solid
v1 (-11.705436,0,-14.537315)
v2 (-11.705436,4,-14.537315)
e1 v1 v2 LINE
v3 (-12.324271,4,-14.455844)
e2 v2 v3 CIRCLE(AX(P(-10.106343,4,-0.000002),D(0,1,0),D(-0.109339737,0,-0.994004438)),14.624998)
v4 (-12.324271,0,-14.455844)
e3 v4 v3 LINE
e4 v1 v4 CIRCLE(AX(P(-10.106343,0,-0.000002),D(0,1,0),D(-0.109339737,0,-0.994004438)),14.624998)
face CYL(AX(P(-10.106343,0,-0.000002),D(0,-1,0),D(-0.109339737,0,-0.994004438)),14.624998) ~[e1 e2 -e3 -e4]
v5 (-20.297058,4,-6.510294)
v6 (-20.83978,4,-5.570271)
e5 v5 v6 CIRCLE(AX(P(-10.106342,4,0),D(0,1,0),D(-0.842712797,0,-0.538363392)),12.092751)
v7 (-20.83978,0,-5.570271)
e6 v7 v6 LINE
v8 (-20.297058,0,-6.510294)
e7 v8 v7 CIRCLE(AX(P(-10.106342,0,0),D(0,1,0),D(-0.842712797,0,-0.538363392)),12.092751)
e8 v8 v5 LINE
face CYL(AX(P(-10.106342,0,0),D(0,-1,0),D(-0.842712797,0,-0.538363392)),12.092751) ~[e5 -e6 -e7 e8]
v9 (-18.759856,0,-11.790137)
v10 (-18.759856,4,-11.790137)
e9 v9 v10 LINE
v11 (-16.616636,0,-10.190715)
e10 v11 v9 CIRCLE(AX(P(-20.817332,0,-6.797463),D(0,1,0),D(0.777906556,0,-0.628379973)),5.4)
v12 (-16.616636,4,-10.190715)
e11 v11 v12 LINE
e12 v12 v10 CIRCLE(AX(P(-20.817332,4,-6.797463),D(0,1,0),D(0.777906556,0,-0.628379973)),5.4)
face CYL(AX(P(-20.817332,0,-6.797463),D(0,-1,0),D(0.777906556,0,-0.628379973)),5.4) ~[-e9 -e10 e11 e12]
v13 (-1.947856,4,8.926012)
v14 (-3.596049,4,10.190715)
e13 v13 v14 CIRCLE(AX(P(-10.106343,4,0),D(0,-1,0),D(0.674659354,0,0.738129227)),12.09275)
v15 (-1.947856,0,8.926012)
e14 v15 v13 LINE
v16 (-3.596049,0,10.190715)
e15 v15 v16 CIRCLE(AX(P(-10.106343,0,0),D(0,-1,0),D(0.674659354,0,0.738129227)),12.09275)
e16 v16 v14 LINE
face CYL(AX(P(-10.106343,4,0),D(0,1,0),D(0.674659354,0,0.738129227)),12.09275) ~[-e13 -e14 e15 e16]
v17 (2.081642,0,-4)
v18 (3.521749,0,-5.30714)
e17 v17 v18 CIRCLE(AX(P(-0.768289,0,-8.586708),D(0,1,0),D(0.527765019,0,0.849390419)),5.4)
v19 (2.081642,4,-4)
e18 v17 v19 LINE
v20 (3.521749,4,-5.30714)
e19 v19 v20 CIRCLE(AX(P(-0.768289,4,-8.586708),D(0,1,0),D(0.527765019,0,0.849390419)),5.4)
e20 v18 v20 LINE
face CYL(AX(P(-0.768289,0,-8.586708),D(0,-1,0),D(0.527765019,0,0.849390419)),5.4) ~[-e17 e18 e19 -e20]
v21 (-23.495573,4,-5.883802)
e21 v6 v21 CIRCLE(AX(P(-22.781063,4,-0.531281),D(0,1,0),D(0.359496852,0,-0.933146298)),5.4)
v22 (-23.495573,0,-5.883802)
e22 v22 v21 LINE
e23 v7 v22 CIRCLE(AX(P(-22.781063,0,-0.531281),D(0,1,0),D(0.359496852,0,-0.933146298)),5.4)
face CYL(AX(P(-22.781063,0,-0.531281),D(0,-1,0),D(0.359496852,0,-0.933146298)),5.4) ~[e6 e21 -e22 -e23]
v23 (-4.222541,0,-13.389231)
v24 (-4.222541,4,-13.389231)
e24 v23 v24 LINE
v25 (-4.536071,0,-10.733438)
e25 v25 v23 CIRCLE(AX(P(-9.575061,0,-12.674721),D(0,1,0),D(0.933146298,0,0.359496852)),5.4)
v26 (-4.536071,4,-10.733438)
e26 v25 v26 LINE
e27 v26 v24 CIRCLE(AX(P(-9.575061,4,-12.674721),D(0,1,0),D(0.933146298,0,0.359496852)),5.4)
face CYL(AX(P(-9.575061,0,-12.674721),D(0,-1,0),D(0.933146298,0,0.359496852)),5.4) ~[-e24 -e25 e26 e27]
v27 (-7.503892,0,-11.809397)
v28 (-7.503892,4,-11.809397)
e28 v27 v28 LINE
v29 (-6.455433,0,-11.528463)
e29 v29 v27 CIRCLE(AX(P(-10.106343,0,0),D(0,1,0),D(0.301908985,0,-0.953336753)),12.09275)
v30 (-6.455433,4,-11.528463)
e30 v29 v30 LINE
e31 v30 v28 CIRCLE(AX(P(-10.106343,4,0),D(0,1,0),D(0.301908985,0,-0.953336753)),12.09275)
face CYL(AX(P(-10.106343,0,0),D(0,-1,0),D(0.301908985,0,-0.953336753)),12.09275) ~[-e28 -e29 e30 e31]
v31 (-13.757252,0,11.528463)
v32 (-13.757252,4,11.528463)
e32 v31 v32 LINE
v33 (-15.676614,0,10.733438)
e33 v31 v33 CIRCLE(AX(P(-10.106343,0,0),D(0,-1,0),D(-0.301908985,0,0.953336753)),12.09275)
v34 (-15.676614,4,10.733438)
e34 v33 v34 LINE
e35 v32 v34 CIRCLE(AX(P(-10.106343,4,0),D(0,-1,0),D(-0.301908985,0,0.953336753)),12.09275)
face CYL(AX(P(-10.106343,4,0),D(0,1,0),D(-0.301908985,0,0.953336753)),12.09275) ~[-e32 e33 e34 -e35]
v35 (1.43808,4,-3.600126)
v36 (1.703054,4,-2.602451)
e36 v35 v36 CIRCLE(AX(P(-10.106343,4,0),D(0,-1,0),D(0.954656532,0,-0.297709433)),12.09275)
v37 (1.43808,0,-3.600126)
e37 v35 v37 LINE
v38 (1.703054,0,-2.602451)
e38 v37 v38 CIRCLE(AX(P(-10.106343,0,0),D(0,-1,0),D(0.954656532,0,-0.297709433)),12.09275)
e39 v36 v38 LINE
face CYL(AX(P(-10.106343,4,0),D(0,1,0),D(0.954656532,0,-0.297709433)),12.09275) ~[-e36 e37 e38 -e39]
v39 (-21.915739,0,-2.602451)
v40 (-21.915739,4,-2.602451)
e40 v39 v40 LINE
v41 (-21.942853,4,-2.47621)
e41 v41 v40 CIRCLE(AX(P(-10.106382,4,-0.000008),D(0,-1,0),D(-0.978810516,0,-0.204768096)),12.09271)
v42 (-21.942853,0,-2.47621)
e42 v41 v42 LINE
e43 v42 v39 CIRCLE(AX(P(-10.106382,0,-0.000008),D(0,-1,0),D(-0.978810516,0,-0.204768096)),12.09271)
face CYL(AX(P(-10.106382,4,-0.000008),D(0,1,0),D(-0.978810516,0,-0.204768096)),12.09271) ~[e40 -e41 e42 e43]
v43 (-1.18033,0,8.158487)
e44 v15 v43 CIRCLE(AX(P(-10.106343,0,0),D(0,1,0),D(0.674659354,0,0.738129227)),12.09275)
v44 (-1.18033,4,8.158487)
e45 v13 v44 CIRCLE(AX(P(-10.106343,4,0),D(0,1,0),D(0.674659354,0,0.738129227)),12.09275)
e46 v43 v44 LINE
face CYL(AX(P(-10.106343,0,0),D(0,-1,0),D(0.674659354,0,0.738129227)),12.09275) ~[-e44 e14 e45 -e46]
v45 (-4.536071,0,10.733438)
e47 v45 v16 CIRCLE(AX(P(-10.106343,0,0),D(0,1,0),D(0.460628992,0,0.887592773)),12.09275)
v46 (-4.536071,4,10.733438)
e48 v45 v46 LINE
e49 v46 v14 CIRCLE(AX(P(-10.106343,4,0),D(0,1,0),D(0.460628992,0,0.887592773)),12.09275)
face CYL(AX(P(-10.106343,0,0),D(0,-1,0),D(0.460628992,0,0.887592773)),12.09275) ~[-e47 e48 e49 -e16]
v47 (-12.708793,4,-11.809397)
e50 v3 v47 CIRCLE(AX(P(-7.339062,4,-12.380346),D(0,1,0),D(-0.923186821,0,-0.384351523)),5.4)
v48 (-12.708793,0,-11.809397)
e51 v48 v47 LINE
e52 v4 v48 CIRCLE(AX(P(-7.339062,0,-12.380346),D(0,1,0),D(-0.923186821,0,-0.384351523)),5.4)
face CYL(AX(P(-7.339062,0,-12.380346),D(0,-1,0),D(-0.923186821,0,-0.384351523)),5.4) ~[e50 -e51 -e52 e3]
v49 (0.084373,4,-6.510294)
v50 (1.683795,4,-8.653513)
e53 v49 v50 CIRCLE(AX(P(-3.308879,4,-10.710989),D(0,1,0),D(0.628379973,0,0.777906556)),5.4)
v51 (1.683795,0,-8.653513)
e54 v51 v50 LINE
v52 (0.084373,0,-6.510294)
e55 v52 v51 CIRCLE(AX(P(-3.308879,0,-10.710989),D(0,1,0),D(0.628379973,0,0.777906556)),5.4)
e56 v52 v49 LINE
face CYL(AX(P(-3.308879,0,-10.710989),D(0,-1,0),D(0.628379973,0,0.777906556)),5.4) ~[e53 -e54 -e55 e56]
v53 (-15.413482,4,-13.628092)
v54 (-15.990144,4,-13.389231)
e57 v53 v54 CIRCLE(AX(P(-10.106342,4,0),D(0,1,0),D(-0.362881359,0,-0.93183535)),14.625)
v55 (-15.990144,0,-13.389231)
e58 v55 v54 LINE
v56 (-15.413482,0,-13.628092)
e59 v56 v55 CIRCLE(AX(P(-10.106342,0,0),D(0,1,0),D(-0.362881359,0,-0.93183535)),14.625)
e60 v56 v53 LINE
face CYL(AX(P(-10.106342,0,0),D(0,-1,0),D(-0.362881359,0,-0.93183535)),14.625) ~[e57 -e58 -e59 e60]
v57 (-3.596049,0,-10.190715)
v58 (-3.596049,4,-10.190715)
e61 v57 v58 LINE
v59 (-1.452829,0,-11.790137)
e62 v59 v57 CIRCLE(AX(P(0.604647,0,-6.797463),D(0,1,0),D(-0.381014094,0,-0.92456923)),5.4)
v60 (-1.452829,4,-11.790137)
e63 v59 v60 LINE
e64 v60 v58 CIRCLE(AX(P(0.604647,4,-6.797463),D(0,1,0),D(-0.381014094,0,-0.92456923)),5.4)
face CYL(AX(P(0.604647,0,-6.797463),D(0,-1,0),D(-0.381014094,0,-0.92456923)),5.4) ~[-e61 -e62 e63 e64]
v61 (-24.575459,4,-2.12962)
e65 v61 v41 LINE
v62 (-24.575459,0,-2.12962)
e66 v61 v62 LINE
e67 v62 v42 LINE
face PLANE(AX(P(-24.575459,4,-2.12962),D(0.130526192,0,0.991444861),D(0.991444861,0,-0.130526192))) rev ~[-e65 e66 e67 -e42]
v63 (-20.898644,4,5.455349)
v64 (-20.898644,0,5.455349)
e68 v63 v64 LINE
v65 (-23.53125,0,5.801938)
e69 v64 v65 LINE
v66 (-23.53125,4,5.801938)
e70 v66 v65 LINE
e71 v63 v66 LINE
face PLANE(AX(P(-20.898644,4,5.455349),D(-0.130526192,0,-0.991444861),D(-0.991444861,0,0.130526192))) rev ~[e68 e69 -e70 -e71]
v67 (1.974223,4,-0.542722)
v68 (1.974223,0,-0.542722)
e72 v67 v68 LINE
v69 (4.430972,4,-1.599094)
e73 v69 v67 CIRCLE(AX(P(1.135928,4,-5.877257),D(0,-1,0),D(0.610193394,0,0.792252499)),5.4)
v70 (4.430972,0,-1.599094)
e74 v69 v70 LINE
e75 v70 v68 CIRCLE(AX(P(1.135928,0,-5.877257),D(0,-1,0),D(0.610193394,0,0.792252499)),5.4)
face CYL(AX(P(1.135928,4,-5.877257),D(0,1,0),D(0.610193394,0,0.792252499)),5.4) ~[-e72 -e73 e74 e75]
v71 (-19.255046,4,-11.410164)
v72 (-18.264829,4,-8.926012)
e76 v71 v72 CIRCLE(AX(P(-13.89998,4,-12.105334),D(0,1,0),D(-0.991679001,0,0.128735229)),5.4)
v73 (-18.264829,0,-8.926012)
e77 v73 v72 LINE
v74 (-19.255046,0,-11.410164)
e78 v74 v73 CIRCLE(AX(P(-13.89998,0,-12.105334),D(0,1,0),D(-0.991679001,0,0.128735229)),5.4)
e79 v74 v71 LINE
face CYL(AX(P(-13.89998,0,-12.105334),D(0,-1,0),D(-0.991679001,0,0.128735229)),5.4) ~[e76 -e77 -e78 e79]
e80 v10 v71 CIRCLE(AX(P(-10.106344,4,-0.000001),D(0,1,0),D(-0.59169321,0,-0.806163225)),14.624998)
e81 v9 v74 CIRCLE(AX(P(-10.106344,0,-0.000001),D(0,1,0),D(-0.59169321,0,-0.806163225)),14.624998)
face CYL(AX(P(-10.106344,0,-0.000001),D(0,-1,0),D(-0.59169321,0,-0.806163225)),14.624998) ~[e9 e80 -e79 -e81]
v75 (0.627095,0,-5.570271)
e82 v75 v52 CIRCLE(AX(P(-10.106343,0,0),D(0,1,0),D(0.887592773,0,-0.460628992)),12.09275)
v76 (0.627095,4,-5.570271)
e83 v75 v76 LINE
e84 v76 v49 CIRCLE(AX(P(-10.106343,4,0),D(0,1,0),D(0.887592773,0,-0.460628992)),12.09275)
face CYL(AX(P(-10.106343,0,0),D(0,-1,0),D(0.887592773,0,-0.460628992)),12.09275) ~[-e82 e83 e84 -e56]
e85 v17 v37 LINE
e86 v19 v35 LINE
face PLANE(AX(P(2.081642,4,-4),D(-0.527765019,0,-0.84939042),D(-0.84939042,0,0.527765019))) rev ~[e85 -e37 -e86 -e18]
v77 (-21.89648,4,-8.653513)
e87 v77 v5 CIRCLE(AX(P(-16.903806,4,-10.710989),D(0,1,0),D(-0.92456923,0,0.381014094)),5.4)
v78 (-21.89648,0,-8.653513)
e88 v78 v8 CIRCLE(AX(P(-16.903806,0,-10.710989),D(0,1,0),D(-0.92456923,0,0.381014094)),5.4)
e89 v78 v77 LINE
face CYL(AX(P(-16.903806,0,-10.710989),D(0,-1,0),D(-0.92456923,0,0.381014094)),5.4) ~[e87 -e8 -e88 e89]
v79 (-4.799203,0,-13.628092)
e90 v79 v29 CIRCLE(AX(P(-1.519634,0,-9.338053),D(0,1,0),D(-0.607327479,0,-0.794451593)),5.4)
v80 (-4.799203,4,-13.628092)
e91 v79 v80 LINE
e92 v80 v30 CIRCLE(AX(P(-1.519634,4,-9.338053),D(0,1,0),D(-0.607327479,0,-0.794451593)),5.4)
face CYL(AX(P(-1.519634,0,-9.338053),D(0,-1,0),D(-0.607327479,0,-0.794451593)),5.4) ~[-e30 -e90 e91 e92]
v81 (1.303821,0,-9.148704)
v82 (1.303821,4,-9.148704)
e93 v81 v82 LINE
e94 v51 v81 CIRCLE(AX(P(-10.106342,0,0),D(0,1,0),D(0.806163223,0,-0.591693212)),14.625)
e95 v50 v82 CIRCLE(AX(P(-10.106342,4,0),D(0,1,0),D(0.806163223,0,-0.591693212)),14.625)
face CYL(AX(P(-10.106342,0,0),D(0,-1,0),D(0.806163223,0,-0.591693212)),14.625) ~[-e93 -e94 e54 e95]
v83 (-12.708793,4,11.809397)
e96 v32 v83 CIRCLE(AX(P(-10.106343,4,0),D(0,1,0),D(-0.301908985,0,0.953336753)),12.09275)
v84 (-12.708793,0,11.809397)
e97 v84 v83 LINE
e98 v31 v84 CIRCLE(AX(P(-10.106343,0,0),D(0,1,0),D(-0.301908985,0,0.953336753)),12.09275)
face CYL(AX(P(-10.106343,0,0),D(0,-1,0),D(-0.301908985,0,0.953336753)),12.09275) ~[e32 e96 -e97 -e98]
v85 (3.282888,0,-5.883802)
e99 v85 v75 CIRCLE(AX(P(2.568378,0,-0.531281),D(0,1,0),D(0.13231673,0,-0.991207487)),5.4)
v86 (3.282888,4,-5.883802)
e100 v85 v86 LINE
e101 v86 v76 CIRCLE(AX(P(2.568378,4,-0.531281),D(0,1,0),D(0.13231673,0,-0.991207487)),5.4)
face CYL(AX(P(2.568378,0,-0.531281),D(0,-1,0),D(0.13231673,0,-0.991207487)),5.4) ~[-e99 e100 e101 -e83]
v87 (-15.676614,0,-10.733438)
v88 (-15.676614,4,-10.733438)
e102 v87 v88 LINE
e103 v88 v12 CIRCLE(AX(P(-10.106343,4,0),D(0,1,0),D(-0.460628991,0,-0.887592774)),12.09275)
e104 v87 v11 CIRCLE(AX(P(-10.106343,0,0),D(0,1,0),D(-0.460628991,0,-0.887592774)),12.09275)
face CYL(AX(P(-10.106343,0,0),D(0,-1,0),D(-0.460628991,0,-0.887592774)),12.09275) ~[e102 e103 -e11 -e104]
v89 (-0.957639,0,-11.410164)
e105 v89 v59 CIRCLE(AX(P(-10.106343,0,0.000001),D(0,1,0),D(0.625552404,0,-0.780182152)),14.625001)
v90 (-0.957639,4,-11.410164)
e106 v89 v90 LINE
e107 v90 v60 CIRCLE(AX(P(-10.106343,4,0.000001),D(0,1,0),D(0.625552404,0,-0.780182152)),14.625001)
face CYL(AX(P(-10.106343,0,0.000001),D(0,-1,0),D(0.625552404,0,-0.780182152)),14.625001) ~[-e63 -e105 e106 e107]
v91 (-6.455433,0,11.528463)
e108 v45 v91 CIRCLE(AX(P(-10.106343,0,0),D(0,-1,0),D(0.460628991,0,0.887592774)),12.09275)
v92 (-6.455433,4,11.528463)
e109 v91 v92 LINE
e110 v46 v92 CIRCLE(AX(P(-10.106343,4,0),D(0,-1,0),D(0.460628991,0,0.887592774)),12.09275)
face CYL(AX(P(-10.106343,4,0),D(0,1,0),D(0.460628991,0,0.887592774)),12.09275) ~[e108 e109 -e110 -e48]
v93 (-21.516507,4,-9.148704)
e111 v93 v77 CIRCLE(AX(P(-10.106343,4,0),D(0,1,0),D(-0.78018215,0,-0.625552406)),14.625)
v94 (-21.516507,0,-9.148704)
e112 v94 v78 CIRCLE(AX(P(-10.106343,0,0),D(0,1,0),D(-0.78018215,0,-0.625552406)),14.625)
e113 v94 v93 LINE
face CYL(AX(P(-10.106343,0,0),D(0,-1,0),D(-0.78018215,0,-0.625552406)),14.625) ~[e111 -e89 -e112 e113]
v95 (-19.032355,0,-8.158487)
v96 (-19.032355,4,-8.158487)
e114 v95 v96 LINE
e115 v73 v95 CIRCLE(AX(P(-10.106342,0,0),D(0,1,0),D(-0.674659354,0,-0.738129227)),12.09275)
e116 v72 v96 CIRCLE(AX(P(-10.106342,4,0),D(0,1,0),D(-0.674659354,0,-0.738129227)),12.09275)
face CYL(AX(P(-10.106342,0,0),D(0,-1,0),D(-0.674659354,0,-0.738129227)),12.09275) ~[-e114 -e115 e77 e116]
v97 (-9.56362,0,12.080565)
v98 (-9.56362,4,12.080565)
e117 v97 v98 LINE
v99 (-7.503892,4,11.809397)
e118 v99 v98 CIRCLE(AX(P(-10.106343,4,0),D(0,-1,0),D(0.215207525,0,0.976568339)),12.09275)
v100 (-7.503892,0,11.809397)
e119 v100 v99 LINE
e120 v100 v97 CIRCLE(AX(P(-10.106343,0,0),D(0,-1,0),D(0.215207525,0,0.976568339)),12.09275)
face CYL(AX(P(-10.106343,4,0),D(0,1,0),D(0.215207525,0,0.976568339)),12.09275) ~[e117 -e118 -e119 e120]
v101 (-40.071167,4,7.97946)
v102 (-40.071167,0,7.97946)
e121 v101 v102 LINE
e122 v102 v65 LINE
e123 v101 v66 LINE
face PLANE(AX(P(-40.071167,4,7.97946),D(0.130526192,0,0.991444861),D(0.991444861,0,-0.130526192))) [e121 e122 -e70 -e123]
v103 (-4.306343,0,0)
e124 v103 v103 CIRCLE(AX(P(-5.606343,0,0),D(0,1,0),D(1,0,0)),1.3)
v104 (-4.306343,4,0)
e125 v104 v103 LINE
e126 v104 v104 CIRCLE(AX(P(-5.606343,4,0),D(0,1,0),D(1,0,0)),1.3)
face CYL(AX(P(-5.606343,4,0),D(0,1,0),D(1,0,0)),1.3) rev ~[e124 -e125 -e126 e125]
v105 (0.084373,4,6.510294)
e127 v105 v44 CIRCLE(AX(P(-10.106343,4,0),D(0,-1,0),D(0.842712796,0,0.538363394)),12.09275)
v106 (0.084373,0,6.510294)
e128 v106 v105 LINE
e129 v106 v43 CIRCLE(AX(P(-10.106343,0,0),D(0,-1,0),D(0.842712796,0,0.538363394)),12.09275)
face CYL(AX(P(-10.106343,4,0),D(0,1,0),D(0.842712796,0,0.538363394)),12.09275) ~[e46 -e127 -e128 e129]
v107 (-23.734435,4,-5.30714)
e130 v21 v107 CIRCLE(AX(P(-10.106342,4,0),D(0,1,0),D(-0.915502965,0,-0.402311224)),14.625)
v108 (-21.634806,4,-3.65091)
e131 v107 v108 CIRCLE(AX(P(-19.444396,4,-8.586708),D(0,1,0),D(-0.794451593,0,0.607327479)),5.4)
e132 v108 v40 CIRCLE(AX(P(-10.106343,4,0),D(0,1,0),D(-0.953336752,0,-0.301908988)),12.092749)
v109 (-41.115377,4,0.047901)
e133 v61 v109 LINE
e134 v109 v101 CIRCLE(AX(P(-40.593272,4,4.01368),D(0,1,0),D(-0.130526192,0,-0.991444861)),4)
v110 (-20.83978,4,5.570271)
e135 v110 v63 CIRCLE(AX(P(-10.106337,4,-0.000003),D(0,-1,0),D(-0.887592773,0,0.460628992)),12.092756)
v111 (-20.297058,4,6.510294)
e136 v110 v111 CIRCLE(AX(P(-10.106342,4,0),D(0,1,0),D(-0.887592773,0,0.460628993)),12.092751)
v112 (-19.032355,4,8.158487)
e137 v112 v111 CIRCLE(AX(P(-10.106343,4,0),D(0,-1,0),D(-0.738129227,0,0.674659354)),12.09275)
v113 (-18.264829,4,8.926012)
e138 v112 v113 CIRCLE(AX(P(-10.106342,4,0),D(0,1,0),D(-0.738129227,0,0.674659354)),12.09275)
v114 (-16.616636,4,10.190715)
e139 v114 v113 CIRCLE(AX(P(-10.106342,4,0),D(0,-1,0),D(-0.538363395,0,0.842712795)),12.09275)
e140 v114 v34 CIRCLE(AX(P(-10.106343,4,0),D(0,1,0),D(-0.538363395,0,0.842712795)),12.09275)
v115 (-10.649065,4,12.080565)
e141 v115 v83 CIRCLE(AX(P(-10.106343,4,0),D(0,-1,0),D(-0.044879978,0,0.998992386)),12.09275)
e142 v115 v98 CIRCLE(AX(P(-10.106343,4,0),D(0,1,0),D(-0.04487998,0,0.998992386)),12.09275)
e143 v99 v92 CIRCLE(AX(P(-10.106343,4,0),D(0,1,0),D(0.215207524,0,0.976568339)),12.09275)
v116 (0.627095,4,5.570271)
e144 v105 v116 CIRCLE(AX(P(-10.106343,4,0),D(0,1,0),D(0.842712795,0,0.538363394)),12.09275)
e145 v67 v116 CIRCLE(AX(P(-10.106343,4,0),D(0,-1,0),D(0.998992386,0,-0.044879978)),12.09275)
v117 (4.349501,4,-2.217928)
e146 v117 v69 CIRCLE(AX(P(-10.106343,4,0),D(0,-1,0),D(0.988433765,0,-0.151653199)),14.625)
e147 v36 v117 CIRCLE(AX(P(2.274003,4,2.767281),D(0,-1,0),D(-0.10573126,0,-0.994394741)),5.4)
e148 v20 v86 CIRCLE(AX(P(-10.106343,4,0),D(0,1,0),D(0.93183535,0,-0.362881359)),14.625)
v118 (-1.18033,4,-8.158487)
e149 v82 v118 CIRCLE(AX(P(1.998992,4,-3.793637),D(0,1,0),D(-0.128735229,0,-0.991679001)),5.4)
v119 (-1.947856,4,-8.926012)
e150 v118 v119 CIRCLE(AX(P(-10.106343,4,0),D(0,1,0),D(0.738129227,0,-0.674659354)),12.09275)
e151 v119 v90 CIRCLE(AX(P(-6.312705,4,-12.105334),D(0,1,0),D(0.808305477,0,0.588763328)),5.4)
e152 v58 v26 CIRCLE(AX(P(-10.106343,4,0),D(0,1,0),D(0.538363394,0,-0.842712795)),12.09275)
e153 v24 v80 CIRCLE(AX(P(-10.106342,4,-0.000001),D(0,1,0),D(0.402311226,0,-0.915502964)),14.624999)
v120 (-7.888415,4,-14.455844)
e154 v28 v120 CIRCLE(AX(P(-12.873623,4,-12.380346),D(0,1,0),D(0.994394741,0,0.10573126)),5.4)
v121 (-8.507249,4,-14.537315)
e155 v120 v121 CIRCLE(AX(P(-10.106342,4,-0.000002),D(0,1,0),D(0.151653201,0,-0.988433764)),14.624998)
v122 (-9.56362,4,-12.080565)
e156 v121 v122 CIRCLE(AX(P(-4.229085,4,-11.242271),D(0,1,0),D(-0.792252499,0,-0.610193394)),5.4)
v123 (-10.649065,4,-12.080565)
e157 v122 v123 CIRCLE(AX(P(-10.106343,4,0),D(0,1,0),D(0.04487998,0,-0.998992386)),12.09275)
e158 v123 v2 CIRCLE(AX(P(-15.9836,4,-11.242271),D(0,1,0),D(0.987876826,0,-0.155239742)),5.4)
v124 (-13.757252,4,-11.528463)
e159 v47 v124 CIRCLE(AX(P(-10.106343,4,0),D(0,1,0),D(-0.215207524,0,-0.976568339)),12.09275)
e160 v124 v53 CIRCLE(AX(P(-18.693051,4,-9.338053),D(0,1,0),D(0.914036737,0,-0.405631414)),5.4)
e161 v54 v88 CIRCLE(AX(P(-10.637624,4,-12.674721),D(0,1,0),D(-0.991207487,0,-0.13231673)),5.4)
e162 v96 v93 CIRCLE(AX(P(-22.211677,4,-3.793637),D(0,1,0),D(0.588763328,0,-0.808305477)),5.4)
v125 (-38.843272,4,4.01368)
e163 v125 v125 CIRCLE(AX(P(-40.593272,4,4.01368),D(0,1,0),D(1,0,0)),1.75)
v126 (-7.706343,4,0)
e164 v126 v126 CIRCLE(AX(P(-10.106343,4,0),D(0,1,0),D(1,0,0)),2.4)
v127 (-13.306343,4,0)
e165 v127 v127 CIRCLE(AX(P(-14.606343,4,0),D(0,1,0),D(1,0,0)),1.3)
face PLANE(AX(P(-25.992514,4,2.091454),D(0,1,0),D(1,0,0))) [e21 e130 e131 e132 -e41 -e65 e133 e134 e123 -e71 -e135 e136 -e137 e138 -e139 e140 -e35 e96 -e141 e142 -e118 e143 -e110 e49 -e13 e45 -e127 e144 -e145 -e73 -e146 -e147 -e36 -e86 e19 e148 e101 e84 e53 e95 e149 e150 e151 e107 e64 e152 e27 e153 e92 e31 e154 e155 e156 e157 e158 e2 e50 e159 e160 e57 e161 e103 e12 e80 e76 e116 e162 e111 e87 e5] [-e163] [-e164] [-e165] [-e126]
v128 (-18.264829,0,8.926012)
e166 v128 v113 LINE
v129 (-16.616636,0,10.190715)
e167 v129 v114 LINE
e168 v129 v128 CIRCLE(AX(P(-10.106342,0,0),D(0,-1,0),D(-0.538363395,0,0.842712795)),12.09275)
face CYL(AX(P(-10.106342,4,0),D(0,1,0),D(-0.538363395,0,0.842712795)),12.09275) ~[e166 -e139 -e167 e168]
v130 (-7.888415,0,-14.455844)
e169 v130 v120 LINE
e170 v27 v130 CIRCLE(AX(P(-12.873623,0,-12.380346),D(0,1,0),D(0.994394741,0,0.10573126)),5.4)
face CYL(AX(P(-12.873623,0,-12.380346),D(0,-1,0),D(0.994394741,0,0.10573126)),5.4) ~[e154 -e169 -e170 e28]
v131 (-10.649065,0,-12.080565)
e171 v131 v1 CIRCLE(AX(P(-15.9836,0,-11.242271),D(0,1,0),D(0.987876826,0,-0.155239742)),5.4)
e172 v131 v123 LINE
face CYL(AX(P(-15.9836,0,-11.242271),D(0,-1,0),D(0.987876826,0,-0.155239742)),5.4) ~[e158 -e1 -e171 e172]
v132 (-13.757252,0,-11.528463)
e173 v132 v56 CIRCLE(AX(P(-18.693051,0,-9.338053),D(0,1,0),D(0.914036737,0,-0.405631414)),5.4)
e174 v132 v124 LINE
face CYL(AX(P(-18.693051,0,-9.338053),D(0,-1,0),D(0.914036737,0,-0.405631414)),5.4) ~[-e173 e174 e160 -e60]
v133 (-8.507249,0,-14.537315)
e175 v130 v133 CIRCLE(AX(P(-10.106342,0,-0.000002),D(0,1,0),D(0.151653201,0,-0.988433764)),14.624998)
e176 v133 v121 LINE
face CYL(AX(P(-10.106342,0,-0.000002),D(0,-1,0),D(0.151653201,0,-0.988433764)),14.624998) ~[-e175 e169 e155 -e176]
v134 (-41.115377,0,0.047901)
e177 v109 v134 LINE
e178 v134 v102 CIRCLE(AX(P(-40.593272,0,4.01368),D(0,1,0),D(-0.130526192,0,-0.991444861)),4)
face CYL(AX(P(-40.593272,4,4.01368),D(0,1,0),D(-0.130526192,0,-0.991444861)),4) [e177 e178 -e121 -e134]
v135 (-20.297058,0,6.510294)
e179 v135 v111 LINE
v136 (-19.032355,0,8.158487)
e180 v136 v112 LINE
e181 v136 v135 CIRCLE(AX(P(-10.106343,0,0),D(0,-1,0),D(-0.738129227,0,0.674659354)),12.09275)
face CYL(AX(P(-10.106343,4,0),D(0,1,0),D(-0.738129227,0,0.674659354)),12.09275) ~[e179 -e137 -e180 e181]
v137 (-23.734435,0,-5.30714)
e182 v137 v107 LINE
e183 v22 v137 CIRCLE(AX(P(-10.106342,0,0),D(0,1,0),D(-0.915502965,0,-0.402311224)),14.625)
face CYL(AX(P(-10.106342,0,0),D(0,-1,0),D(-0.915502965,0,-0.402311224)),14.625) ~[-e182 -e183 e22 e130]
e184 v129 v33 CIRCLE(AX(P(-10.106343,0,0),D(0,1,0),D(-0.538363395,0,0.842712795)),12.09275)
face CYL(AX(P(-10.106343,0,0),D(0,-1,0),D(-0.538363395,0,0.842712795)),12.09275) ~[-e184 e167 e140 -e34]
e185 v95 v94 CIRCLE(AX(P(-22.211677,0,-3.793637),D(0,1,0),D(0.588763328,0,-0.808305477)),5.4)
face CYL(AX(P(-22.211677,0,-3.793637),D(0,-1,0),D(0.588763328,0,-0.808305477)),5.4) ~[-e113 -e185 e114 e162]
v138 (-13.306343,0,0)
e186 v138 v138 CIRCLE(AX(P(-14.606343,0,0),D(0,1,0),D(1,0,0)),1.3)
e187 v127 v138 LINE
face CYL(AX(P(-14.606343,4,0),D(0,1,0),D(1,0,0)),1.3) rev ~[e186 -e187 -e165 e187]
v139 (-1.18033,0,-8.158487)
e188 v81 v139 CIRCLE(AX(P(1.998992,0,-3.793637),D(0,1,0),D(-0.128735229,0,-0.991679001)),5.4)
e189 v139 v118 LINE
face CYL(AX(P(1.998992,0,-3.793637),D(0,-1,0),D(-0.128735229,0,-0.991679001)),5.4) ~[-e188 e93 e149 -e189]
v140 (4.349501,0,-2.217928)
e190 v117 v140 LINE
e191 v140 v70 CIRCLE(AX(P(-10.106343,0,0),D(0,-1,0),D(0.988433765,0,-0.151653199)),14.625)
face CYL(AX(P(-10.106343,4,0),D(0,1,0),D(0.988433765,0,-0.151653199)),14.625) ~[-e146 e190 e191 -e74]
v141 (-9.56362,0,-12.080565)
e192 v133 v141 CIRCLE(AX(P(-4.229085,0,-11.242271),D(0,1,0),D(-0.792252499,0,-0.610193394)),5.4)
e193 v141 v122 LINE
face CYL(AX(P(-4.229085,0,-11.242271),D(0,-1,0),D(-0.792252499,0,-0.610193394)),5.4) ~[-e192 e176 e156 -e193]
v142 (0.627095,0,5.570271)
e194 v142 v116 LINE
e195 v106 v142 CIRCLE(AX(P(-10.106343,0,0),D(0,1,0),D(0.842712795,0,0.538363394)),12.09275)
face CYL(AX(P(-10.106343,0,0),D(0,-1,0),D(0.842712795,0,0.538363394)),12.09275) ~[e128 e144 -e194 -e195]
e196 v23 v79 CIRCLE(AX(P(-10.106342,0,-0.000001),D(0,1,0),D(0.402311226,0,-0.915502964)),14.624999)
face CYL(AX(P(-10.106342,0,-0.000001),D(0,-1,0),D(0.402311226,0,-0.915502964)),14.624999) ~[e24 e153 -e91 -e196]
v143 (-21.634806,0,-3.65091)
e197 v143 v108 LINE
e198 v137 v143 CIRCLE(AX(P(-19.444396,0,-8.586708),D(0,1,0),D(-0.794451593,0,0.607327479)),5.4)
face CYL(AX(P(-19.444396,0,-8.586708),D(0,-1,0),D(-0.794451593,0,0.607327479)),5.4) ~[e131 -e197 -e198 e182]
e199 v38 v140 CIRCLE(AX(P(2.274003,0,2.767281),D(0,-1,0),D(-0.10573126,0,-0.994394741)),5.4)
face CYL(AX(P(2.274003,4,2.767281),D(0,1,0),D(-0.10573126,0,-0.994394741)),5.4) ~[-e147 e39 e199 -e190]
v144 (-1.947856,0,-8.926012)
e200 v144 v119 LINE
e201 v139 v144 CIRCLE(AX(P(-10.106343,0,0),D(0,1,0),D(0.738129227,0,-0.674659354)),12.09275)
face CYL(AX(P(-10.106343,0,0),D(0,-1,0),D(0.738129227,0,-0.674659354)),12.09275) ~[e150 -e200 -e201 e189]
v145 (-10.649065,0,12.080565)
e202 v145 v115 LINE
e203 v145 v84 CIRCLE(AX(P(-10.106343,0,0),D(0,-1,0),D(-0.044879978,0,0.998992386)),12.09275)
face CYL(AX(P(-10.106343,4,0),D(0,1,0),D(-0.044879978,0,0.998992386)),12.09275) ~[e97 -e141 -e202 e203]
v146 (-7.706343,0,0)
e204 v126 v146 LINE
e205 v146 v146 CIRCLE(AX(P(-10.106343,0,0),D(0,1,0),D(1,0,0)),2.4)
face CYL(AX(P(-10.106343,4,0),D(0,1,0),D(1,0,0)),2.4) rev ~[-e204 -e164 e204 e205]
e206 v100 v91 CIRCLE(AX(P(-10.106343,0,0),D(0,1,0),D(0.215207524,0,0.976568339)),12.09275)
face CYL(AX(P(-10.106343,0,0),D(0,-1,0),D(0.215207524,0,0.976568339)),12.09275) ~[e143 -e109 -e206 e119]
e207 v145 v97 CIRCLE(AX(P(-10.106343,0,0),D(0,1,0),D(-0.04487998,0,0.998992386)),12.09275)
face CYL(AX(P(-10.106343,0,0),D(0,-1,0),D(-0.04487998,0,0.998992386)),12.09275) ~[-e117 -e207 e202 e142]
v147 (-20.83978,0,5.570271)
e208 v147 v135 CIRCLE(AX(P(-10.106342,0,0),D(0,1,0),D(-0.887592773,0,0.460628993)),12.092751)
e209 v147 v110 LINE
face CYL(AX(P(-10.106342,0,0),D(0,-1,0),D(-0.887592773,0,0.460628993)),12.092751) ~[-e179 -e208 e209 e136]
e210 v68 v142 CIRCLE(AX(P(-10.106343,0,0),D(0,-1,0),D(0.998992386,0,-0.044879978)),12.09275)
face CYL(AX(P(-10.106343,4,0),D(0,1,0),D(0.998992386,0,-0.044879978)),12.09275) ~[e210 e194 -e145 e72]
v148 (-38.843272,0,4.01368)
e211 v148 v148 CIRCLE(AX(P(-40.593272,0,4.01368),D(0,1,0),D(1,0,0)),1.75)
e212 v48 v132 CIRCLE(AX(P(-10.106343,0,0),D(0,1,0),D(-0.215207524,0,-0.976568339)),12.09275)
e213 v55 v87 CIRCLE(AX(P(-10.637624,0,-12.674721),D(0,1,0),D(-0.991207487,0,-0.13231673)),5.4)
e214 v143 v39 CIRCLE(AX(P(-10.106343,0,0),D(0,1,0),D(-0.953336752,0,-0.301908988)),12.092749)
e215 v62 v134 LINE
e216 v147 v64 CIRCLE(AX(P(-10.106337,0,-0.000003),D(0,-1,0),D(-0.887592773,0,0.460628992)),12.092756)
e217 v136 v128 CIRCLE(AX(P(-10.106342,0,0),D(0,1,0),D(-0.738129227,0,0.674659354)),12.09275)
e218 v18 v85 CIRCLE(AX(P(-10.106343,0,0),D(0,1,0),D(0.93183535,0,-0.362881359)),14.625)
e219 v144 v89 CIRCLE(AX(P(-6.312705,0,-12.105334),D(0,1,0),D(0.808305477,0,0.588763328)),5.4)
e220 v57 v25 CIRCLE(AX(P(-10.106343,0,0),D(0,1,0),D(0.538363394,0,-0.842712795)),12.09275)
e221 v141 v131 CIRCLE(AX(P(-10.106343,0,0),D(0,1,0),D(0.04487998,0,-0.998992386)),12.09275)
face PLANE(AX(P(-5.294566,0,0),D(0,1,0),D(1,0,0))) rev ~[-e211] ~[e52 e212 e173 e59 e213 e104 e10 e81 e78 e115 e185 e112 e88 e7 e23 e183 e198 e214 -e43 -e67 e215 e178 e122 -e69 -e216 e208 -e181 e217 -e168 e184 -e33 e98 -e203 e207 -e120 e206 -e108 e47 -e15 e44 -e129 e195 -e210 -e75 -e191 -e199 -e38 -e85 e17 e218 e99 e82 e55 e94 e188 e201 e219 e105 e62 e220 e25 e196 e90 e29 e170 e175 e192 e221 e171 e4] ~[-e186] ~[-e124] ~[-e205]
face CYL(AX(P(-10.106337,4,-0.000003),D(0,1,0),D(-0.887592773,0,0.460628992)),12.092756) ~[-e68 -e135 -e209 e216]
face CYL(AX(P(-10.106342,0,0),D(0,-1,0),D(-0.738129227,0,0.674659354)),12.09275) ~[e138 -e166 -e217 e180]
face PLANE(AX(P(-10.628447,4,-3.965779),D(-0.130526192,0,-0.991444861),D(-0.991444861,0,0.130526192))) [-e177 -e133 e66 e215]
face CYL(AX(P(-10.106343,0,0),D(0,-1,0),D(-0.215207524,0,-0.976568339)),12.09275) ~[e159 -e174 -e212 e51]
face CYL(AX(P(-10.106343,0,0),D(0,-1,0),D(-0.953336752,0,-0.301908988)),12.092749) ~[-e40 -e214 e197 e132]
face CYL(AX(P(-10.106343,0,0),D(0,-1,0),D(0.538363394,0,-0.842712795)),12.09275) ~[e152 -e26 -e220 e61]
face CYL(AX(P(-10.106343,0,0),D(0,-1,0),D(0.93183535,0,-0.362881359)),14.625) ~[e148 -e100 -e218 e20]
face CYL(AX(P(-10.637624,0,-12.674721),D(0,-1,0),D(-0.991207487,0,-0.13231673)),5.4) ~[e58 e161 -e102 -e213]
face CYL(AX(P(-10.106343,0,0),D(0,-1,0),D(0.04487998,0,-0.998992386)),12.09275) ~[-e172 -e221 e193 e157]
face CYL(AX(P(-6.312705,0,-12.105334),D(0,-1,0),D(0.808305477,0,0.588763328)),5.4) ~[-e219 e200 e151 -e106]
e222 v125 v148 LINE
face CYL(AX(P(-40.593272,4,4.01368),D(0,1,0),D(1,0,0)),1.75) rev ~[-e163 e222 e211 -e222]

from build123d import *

# Parameters (mm, degrees)
SKETCH1_R           = 1.5
BOSS_EXTRUDE1_DEPTH = 4
SKETCH3_R           = 1.75
BOSS_EXTRUDE2_DEPTH = 4
CUT_EXTRUDE1_DEPTH  = 4
CUT_EXTRUDE2_REACH  = 6
SKETCH5_R           = 1.3
SKETCH5_R_2         = 2.4


with BuildPart() as part:
    # Sketch1 → Boss-Extrude1 (new body)
    with BuildSketch(Plane(origin=(0, 0, 0), x_dir=(1, 0, 0), z_dir=(0, 1, 0))):
        with BuildLine():
            Line((20.643657446, 4), (2.081641936, 4))
            ThreePointArc((2.081641936, 4), (2.861028333, 4.588201733), (3.521749436, 5.30713988))
            ThreePointArc((3.521749436, 5.30713988), (3.405395609, 5.596745198), (3.282888305, 5.883801663))
            ThreePointArc((3.282888305, 5.883801663), (1.93527598, 5.894040025), (0.627094961, 5.57027124))
            ThreePointArc((0.627094961, 5.57027124), (0.366286148, 6.046375), (0.084372603, 6.510293938))
            ThreePointArc((0.084372603, 6.510293938), (1.018855105, 7.48132754), (1.683794586, 8.65351323))
            ThreePointArc((1.683794586, 8.65351323), (1.496450048, 8.903135899), (1.303821399, 9.148703928))
            ThreePointArc((1.303821399, 9.148703928), (-0.000522033, 8.809805691), (-1.180330337, 8.158486898))
            ThreePointArc((-1.180330337, 8.158486898), (-1.555477026, 8.550865528), (-1.947855656, 8.926012217))
            ThreePointArc((-1.947855656, 8.926012217), (-1.296536862, 10.105820521), (-0.957638625, 11.410163953))
            ThreePointArc((-0.957638625, 11.410163953), (-1.203206655, 11.602792602), (-1.452829324, 11.79013714))
            ThreePointArc((-1.452829324, 11.79013714), (-2.625015014, 11.125197659), (-3.596048616, 10.190715157))
            ThreePointArc((-3.596048616, 10.190715157), (-4.059967554, 10.472628702), (-4.536071314, 10.733437515))
            ThreePointArc((-4.536071314, 10.733437515), (-4.212302529, 12.041618533), (-4.222540891, 13.389230859))
            ThreePointArc((-4.222540891, 13.389230859), (-4.509597355, 13.511738163), (-4.799202674, 13.62809199))
            ThreePointArc((-4.799202674, 13.62809199), (-5.759348103, 12.682425791), (-6.455432668, 11.528463019))
            ThreePointArc((-6.455432668, 11.528463019), (-6.976508546, 11.680699536), (-7.503891752, 11.809396783))
            ThreePointArc((-7.503891752, 11.809396783), (-7.529737283, 13.156800143), (-7.888414517, 14.455843809))
            ThreePointArc((-7.888414517, 14.455843809), (-8.197396993, 14.499881098), (-8.507248835, 14.537314892))
            ThreePointArc((-8.507248835, 14.537314892), (-9.18992168, 13.375367565), (-9.563620196, 12.080565177))
            ThreePointArc((-9.563620196, 12.080565177), (-10.106342554, 12.09275), (-10.649064912, 12.080565177))
            ThreePointArc((-10.649064912, 12.080565177), (-11.022763428, 13.375367565), (-11.705436272, 14.537314892))
            ThreePointArc((-11.705436272, 14.537314892), (-12.015288115, 14.499881098), (-12.324270591, 14.455843809))
            ThreePointArc((-12.324270591, 14.455843809), (-12.682947825, 13.156800143), (-12.708793355, 11.809396783))
            ThreePointArc((-12.708793355, 11.809396783), (-13.236176561, 11.680699536), (-13.757252439, 11.528463019))
            ThreePointArc((-13.757252439, 11.528463019), (-14.453337005, 12.682425791), (-15.413482434, 13.62809199))
            ThreePointArc((-15.413482434, 13.62809199), (-15.703087752, 13.511738163), (-15.990144217, 13.389230859))
            ThreePointArc((-15.990144217, 13.389230859), (-16.000382579, 12.041618533), (-15.676613793, 10.733437515))
            ThreePointArc((-15.676613793, 10.733437515), (-16.152717554, 10.472628702), (-16.616636492, 10.190715157))
            ThreePointArc((-16.616636492, 10.190715157), (-17.587670094, 11.125197659), (-18.759855783, 11.79013714))
            ThreePointArc((-18.759855783, 11.79013714), (-19.009478453, 11.602792602), (-19.255046482, 11.410163953))
            ThreePointArc((-19.255046482, 11.410163953), (-18.916148245, 10.105820521), (-18.264829452, 8.926012217))
            ThreePointArc((-18.264829452, 8.926012217), (-18.657208082, 8.550865528), (-19.032354771, 8.158486898))
            ThreePointArc((-19.032354771, 8.158486898), (-20.212163074, 8.809805691), (-21.516506507, 9.148703928))
            ThreePointArc((-21.516506507, 9.148703928), (-21.709135156, 8.903135899), (-21.896479694, 8.65351323))
            ThreePointArc((-21.896479694, 8.65351323), (-21.231540213, 7.48132754), (-20.297057711, 6.510293938))
            ThreePointArc((-20.297057711, 6.510293938), (-20.578971255, 6.046375), (-20.839780068, 5.57027124))
            ThreePointArc((-20.839780068, 5.57027124), (-22.147961087, 5.894040025), (-23.495573413, 5.883801663))
            ThreePointArc((-23.495573413, 5.883801663), (-23.618080717, 5.596745198), (-23.734434544, 5.30713988))
            ThreePointArc((-23.734434544, 5.30713988), (-22.788768345, 4.346994451), (-21.634805572, 3.650909885))
            ThreePointArc((-21.634805572, 3.650909885), (-21.78704209, 3.129834008), (-21.915739337, 2.602450802))
            ThreePointArc((-21.915739337, 2.602450802), (-23.263142697, 2.576605271), (-24.562186363, 2.217928037))
            ThreePointArc((-24.562186363, 2.217928037), (-24.606223651, 1.908945561), (-24.643657446, 1.599093719))
            ThreePointArc((-24.643657446, 1.599093719), (-23.481710119, 0.916420874), (-22.186907731, 0.542722358))
            ThreePointArc((-22.186907731, 0.542722358), (-22.199092554, 0), (-22.186907731, -0.542722358))
            ThreePointArc((-22.186907731, -0.542722358), (-23.481710119, -0.916420874), (-24.643657446, -1.599093719))
            ThreePointArc((-24.643657446, -1.599093719), (-24.606223651, -1.908945561), (-24.562186363, -2.217928037))
            ThreePointArc((-24.562186363, -2.217928037), (-23.263142697, -2.576605271), (-21.915739337, -2.602450802))
            ThreePointArc((-21.915739337, -2.602450802), (-21.78704209, -3.129834008), (-21.634805572, -3.650909885))
            ThreePointArc((-21.634805572, -3.650909885), (-22.788768345, -4.346994451), (-23.734434544, -5.30713988))
            ThreePointArc((-23.734434544, -5.30713988), (-23.618080717, -5.596745198), (-23.495573413, -5.883801663))
            ThreePointArc((-23.495573413, -5.883801663), (-22.147961087, -5.894040025), (-20.839780068, -5.57027124))
            ThreePointArc((-20.839780068, -5.57027124), (-20.578971255, -6.046375), (-20.297057711, -6.510293938))
            ThreePointArc((-20.297057711, -6.510293938), (-21.231540213, -7.48132754), (-21.896479694, -8.65351323))
            ThreePointArc((-21.896479694, -8.65351323), (-21.709135156, -8.903135899), (-21.516506507, -9.148703928))
            ThreePointArc((-21.516506507, -9.148703928), (-20.212163074, -8.809805691), (-19.032354771, -8.158486898))
            ThreePointArc((-19.032354771, -8.158486898), (-18.657208082, -8.550865528), (-18.264829452, -8.926012217))
            ThreePointArc((-18.264829452, -8.926012217), (-18.916148245, -10.105820521), (-19.255046482, -11.410163953))
            ThreePointArc((-19.255046482, -11.410163953), (-19.009478453, -11.602792602), (-18.759855783, -11.79013714))
            ThreePointArc((-18.759855783, -11.79013714), (-17.587670094, -11.125197659), (-16.616636492, -10.190715157))
            ThreePointArc((-16.616636492, -10.190715157), (-16.152717554, -10.472628702), (-15.676613793, -10.733437515))
            ThreePointArc((-15.676613793, -10.733437515), (-16.000382579, -12.041618533), (-15.990144217, -13.389230859))
            ThreePointArc((-15.990144217, -13.389230859), (-15.703087752, -13.511738163), (-15.413482434, -13.62809199))
            ThreePointArc((-15.413482434, -13.62809199), (-14.453337005, -12.682425791), (-13.757252439, -11.528463019))
            ThreePointArc((-13.757252439, -11.528463019), (-13.236176561, -11.680699536), (-12.708793355, -11.809396783))
            ThreePointArc((-12.708793355, -11.809396783), (-12.682947825, -13.156800143), (-12.324270591, -14.455843809))
            ThreePointArc((-12.324270591, -14.455843809), (-12.015288115, -14.499881098), (-11.705436272, -14.537314892))
            ThreePointArc((-11.705436272, -14.537314892), (-11.022763428, -13.375367565), (-10.649064912, -12.080565177))
            ThreePointArc((-10.649064912, -12.080565177), (-10.106342554, -12.09275), (-9.563620196, -12.080565177))
            ThreePointArc((-9.563620196, -12.080565177), (-9.18992168, -13.375367565), (-8.507248835, -14.537314892))
            ThreePointArc((-8.507248835, -14.537314892), (-8.197396993, -14.499881098), (-7.888414517, -14.455843809))
            ThreePointArc((-7.888414517, -14.455843809), (-7.529737283, -13.156800143), (-7.503891752, -11.809396783))
            ThreePointArc((-7.503891752, -11.809396783), (-6.976508546, -11.680699536), (-6.455432668, -11.528463019))
            ThreePointArc((-6.455432668, -11.528463019), (-5.759348103, -12.682425791), (-4.799202674, -13.62809199))
            ThreePointArc((-4.799202674, -13.62809199), (-4.509597355, -13.511738163), (-4.222540891, -13.389230859))
            ThreePointArc((-4.222540891, -13.389230859), (-4.212302529, -12.041618533), (-4.536071314, -10.733437515))
            ThreePointArc((-4.536071314, -10.733437515), (-4.059967554, -10.472628702), (-3.596048616, -10.190715157))
            ThreePointArc((-3.596048616, -10.190715157), (-2.625015014, -11.125197659), (-1.452829324, -11.79013714))
            ThreePointArc((-1.452829324, -11.79013714), (-1.203206655, -11.602792602), (-0.957638625, -11.410163953))
            ThreePointArc((-0.957638625, -11.410163953), (-1.296536862, -10.105820521), (-1.947855656, -8.926012217))
            ThreePointArc((-1.947855656, -8.926012217), (-1.555477026, -8.550865528), (-1.180330337, -8.158486898))
            ThreePointArc((-1.180330337, -8.158486898), (-0.000522033, -8.809805691), (1.303821399, -9.148703928))
            ThreePointArc((1.303821399, -9.148703928), (1.496450048, -8.903135899), (1.683794586, -8.65351323))
            ThreePointArc((1.683794586, -8.65351323), (1.018855105, -7.48132754), (0.084372603, -6.510293938))
            ThreePointArc((0.084372603, -6.510293938), (0.366286148, -6.046375), (0.627094961, -5.57027124))
            ThreePointArc((0.627094961, -5.57027124), (1.93527598, -5.894040025), (3.282888305, -5.883801663))
            ThreePointArc((3.282888305, -5.883801663), (3.405395609, -5.596745198), (3.521749436, -5.30713988))
            ThreePointArc((3.521749436, -5.30713988), (2.861028333, -4.588201733), (2.081641936, -4))
            Line((2.081641936, -4), (20.643657446, -4))
            ThreePointArc((20.643657446, -4), (24.643657446, 0), (20.643657446, 4))
        make_face()
        with Locations((-10.106342554, 0)):
            Circle(SKETCH1_R, mode=Mode.SUBTRACT)
        with Locations((20.643657446, 0)):
            Circle(SKETCH1_R, mode=Mode.SUBTRACT)
    extrude(amount=BOSS_EXTRUDE1_DEPTH)

    # Sketch3 → Boss-Extrude2 (add)
    with BuildSketch(Plane(origin=(0, 4, 0), x_dir=(1, 0, 0), z_dir=(0, 1, 0))):
        with BuildLine():
            ThreePointArc((-9.584237785, -3.965779445), (-14.072121999, -0.522104769), (-10.628447323, 3.965779445))
            Line((-10.628447323, 3.965779445), (-41.11537681, -0.047900965))
            ThreePointArc((-41.11537681, -0.047900965), (-44.559051487, -4.53578518), (-40.071167272, -7.979459856))
            Line((-40.071167272, -7.979459856), (-9.584237785, -3.965779445))
        make_face()
        with Locations((-40.593272041, -4.013680411)):
            Circle(SKETCH3_R, mode=Mode.SUBTRACT)
    extrude(amount=-BOSS_EXTRUDE2_DEPTH)

    # Sketch4 → Cut-Extrude1 (cut)
    with BuildSketch(Plane(origin=(0, 4, 0), x_dir=(1, 0, 0), z_dir=(0, 1, 0))):
        with BuildLine():
            ThreePointArc((20.643657446, -4), (24.643657446, 0), (20.643657446, 4))
            Line((20.643657446, 4), (2.081641936, 4))
            Line((2.081641936, 4), (1.43808022, 3.600125745))
            ThreePointArc((1.43808022, 3.600125745), (1.581217534, 3.104116905), (1.70305423, 2.602450802))
            ThreePointArc((1.70305423, 2.602450802), (3.050457589, 2.576605271), (4.349501255, 2.217928037))
            ThreePointArc((4.349501255, 2.217928037), (4.393538544, 1.908945561), (4.430972339, 1.599093719))
            ThreePointArc((4.430972339, 1.599093719), (3.269025011, 0.916420874), (1.974222624, 0.542722358))
            ThreePointArc((1.974222624, 0.542722358), (1.70305423, -2.602450802), (0.627094961, -5.57027124))
            ThreePointArc((0.627094961, -5.57027124), (1.93527598, -5.894040025), (3.282888305, -5.883801663))
            ThreePointArc((3.282888305, -5.883801663), (3.405395609, -5.596745198), (3.521749436, -5.30713988))
            ThreePointArc((3.521749436, -5.30713988), (2.861028333, -4.588201733), (2.081641936, -4))
            Line((2.081641936, -4), (20.643657446, -4))
        make_face()
        with BuildLine():
            ThreePointArc((1.683794586, -8.65351323), (1.018855105, -7.48132754), (0.084372603, -6.510293938))
            ThreePointArc((0.084372603, -6.510293938), (-0.512518948, -7.361599771), (-1.180330337, -8.158486898))
            ThreePointArc((-1.180330337, -8.158486898), (-0.000522033, -8.809805691), (1.303821399, -9.148703928))
            ThreePointArc((1.303821399, -9.148703928), (1.496450048, -8.903135899), (1.683794586, -8.65351323))
        make_face()
        with BuildLine():
            ThreePointArc((-0.957638625, -11.410163953), (-1.296536862, -10.105820521), (-1.947855656, -8.926012217))
            ThreePointArc((-1.947855656, -8.926012217), (-2.744742783, -9.593823606), (-3.596048616, -10.190715157))
            ThreePointArc((-3.596048616, -10.190715157), (-2.625015014, -11.125197659), (-1.452829324, -11.79013714))
            ThreePointArc((-1.452829324, -11.79013714), (-1.203206655, -11.602792602), (-0.957638625, -11.410163953))
        make_face()
        with BuildLine():
            ThreePointArc((-4.222540891, -13.389230859), (-4.212302529, -12.041618533), (-4.536071314, -10.733437515))
            ThreePointArc((-4.536071314, -10.733437515), (-5.478647477, -11.172244217), (-6.455432668, -11.528463019))
            ThreePointArc((-6.455432668, -11.528463019), (-5.759348103, -12.682425791), (-4.799202674, -13.62809199))
            ThreePointArc((-4.799202674, -13.62809199), (-4.509597355, -13.511738163), (-4.222540891, -13.389230859))
        make_face()
        with BuildLine():
            ThreePointArc((-7.888414517, -14.455843809), (-7.529737283, -13.156800143), (-7.503891752, -11.809396783))
            ThreePointArc((-7.503891752, -11.809396783), (-8.527921943, -11.989294847), (-9.563620196, -12.080565177))
            ThreePointArc((-9.563620196, -12.080565177), (-9.18992168, -13.375367565), (-8.507248835, -14.537314892))
            ThreePointArc((-8.507248835, -14.537314892), (-8.197396993, -14.499881098), (-7.888414517, -14.455843809))
        make_face()
        with BuildLine():
            ThreePointArc((-11.705436272, -14.537314892), (-11.022763428, -13.375367565), (-10.649064912, -12.080565177))
            ThreePointArc((-10.649064912, -12.080565177), (-11.684763165, -11.989294847), (-12.708793355, -11.809396783))
            ThreePointArc((-12.708793355, -11.809396783), (-12.682947825, -13.156800143), (-12.324270591, -14.455843809))
            ThreePointArc((-12.324270591, -14.455843809), (-12.015288115, -14.499881098), (-11.705436272, -14.537314892))
        make_face()
        with BuildLine():
            ThreePointArc((-15.413482434, -13.62809199), (-14.453337005, -12.682425791), (-13.757252439, -11.528463019))
            ThreePointArc((-13.757252439, -11.528463019), (-14.734037631, -11.172244217), (-15.676613793, -10.733437515))
            ThreePointArc((-15.676613793, -10.733437515), (-16.000382579, -12.041618533), (-15.990144217, -13.389230859))
            ThreePointArc((-15.990144217, -13.389230859), (-15.703087752, -13.511738163), (-15.413482434, -13.62809199))
        make_face()
        with BuildLine():
            ThreePointArc((-18.759855783, -11.79013714), (-17.587670094, -11.125197659), (-16.616636492, -10.190715157))
            ThreePointArc((-16.616636492, -10.190715157), (-17.467942324, -9.593823606), (-18.264829452, -8.926012217))
            ThreePointArc((-18.264829452, -8.926012217), (-18.916148245, -10.105820521), (-19.255046482, -11.410163953))
            ThreePointArc((-19.255046482, -11.410163953), (-19.009478453, -11.602792602), (-18.759855783, -11.79013714))
        make_face()
        with BuildLine():
            ThreePointArc((-21.516506507, -9.148703928), (-20.212163074, -8.809805691), (-19.032354771, -8.158486898))
            ThreePointArc((-19.032354771, -8.158486898), (-19.70016616, -7.361599771), (-20.297057711, -6.510293938))
            ThreePointArc((-20.297057711, -6.510293938), (-21.231540213, -7.48132754), (-21.896479694, -8.65351323))
            ThreePointArc((-21.896479694, -8.65351323), (-21.709135156, -8.903135899), (-21.516506507, -9.148703928))
        make_face()
        with BuildLine():
            ThreePointArc((-21.942853375, 2.47620963), (-21.92946485, 2.539366405), (-21.915739337, 2.602450802))
            ThreePointArc((-21.915739337, 2.602450802), (-23.263142697, 2.576605271), (-24.562186363, 2.217928037))
            ThreePointArc((-24.562186363, 2.217928037), (-24.56889027, 2.173784387), (-24.575459377, 2.129620475))
            Line((-24.575459377, 2.129620475), (-21.942853375, 2.47620963))
        make_face()
        with BuildLine():
            ThreePointArc((-23.495573413, -5.883801663), (-22.147961087, -5.894040025), (-20.839780068, -5.57027124))
            ThreePointArc((-20.839780068, -5.57027124), (-20.869365339, -5.512888815), (-20.898643838, -5.455349261))
            Line((-20.898643838, -5.455349261), (-23.531249839, -5.801938416))
            ThreePointArc((-23.531249839, -5.801938416), (-23.513474108, -5.842897269), (-23.495573413, -5.883801663))
        make_face()
    extrude(amount=-CUT_EXTRUDE1_DEPTH, mode=Mode.SUBTRACT)

    # Sketch5 → Cut-Extrude2 (cut, up to next)
    with BuildSketch(Plane(origin=(0, 4, 0), x_dir=(1, 0, 0), z_dir=(0, 1, 0)), mode=Mode.PRIVATE) as cut_extrude2_sk1:
        with Locations((-14.606342554, 0)):
            Circle(SKETCH5_R)
    cut_extrude2_tool1 = extrude(cut_extrude2_sk1.sketch, amount=-CUT_EXTRUDE2_REACH, mode=Mode.PRIVATE) & part.part
    add(cut_extrude2_tool1.solids().sort_by_distance((-14.606343, 4, 0))[0], mode=Mode.SUBTRACT)
    # Sketch5 → Cut-Extrude2 (cut, up to next)
    with BuildSketch(Plane(origin=(0, 4, 0), x_dir=(1, 0, 0), z_dir=(0, 1, 0)), mode=Mode.PRIVATE) as cut_extrude2_sk2:
        with Locations((-5.606342554, 0)):
            Circle(SKETCH5_R)
    cut_extrude2_tool2 = extrude(cut_extrude2_sk2.sketch, amount=-CUT_EXTRUDE2_REACH, mode=Mode.PRIVATE) & part.part
    add(cut_extrude2_tool2.solids().sort_by_distance((-5.606343, 4, 0))[0], mode=Mode.SUBTRACT)
    # Sketch5 → Cut-Extrude2 (cut, up to next)
    with BuildSketch(Plane(origin=(0, 4, 0), x_dir=(1, 0, 0), z_dir=(0, 1, 0)), mode=Mode.PRIVATE) as cut_extrude2_sk3:
        with Locations((-10.106342554, 0)):
            Circle(SKETCH5_R_2)
    cut_extrude2_tool3 = extrude(cut_extrude2_sk3.sketch, amount=-CUT_EXTRUDE2_REACH, mode=Mode.PRIVATE) & part.part
    add(cut_extrude2_tool3.solids().sort_by_distance((-10.106343, 4, 0))[0], mode=Mode.SUBTRACT)


solid = part.part
